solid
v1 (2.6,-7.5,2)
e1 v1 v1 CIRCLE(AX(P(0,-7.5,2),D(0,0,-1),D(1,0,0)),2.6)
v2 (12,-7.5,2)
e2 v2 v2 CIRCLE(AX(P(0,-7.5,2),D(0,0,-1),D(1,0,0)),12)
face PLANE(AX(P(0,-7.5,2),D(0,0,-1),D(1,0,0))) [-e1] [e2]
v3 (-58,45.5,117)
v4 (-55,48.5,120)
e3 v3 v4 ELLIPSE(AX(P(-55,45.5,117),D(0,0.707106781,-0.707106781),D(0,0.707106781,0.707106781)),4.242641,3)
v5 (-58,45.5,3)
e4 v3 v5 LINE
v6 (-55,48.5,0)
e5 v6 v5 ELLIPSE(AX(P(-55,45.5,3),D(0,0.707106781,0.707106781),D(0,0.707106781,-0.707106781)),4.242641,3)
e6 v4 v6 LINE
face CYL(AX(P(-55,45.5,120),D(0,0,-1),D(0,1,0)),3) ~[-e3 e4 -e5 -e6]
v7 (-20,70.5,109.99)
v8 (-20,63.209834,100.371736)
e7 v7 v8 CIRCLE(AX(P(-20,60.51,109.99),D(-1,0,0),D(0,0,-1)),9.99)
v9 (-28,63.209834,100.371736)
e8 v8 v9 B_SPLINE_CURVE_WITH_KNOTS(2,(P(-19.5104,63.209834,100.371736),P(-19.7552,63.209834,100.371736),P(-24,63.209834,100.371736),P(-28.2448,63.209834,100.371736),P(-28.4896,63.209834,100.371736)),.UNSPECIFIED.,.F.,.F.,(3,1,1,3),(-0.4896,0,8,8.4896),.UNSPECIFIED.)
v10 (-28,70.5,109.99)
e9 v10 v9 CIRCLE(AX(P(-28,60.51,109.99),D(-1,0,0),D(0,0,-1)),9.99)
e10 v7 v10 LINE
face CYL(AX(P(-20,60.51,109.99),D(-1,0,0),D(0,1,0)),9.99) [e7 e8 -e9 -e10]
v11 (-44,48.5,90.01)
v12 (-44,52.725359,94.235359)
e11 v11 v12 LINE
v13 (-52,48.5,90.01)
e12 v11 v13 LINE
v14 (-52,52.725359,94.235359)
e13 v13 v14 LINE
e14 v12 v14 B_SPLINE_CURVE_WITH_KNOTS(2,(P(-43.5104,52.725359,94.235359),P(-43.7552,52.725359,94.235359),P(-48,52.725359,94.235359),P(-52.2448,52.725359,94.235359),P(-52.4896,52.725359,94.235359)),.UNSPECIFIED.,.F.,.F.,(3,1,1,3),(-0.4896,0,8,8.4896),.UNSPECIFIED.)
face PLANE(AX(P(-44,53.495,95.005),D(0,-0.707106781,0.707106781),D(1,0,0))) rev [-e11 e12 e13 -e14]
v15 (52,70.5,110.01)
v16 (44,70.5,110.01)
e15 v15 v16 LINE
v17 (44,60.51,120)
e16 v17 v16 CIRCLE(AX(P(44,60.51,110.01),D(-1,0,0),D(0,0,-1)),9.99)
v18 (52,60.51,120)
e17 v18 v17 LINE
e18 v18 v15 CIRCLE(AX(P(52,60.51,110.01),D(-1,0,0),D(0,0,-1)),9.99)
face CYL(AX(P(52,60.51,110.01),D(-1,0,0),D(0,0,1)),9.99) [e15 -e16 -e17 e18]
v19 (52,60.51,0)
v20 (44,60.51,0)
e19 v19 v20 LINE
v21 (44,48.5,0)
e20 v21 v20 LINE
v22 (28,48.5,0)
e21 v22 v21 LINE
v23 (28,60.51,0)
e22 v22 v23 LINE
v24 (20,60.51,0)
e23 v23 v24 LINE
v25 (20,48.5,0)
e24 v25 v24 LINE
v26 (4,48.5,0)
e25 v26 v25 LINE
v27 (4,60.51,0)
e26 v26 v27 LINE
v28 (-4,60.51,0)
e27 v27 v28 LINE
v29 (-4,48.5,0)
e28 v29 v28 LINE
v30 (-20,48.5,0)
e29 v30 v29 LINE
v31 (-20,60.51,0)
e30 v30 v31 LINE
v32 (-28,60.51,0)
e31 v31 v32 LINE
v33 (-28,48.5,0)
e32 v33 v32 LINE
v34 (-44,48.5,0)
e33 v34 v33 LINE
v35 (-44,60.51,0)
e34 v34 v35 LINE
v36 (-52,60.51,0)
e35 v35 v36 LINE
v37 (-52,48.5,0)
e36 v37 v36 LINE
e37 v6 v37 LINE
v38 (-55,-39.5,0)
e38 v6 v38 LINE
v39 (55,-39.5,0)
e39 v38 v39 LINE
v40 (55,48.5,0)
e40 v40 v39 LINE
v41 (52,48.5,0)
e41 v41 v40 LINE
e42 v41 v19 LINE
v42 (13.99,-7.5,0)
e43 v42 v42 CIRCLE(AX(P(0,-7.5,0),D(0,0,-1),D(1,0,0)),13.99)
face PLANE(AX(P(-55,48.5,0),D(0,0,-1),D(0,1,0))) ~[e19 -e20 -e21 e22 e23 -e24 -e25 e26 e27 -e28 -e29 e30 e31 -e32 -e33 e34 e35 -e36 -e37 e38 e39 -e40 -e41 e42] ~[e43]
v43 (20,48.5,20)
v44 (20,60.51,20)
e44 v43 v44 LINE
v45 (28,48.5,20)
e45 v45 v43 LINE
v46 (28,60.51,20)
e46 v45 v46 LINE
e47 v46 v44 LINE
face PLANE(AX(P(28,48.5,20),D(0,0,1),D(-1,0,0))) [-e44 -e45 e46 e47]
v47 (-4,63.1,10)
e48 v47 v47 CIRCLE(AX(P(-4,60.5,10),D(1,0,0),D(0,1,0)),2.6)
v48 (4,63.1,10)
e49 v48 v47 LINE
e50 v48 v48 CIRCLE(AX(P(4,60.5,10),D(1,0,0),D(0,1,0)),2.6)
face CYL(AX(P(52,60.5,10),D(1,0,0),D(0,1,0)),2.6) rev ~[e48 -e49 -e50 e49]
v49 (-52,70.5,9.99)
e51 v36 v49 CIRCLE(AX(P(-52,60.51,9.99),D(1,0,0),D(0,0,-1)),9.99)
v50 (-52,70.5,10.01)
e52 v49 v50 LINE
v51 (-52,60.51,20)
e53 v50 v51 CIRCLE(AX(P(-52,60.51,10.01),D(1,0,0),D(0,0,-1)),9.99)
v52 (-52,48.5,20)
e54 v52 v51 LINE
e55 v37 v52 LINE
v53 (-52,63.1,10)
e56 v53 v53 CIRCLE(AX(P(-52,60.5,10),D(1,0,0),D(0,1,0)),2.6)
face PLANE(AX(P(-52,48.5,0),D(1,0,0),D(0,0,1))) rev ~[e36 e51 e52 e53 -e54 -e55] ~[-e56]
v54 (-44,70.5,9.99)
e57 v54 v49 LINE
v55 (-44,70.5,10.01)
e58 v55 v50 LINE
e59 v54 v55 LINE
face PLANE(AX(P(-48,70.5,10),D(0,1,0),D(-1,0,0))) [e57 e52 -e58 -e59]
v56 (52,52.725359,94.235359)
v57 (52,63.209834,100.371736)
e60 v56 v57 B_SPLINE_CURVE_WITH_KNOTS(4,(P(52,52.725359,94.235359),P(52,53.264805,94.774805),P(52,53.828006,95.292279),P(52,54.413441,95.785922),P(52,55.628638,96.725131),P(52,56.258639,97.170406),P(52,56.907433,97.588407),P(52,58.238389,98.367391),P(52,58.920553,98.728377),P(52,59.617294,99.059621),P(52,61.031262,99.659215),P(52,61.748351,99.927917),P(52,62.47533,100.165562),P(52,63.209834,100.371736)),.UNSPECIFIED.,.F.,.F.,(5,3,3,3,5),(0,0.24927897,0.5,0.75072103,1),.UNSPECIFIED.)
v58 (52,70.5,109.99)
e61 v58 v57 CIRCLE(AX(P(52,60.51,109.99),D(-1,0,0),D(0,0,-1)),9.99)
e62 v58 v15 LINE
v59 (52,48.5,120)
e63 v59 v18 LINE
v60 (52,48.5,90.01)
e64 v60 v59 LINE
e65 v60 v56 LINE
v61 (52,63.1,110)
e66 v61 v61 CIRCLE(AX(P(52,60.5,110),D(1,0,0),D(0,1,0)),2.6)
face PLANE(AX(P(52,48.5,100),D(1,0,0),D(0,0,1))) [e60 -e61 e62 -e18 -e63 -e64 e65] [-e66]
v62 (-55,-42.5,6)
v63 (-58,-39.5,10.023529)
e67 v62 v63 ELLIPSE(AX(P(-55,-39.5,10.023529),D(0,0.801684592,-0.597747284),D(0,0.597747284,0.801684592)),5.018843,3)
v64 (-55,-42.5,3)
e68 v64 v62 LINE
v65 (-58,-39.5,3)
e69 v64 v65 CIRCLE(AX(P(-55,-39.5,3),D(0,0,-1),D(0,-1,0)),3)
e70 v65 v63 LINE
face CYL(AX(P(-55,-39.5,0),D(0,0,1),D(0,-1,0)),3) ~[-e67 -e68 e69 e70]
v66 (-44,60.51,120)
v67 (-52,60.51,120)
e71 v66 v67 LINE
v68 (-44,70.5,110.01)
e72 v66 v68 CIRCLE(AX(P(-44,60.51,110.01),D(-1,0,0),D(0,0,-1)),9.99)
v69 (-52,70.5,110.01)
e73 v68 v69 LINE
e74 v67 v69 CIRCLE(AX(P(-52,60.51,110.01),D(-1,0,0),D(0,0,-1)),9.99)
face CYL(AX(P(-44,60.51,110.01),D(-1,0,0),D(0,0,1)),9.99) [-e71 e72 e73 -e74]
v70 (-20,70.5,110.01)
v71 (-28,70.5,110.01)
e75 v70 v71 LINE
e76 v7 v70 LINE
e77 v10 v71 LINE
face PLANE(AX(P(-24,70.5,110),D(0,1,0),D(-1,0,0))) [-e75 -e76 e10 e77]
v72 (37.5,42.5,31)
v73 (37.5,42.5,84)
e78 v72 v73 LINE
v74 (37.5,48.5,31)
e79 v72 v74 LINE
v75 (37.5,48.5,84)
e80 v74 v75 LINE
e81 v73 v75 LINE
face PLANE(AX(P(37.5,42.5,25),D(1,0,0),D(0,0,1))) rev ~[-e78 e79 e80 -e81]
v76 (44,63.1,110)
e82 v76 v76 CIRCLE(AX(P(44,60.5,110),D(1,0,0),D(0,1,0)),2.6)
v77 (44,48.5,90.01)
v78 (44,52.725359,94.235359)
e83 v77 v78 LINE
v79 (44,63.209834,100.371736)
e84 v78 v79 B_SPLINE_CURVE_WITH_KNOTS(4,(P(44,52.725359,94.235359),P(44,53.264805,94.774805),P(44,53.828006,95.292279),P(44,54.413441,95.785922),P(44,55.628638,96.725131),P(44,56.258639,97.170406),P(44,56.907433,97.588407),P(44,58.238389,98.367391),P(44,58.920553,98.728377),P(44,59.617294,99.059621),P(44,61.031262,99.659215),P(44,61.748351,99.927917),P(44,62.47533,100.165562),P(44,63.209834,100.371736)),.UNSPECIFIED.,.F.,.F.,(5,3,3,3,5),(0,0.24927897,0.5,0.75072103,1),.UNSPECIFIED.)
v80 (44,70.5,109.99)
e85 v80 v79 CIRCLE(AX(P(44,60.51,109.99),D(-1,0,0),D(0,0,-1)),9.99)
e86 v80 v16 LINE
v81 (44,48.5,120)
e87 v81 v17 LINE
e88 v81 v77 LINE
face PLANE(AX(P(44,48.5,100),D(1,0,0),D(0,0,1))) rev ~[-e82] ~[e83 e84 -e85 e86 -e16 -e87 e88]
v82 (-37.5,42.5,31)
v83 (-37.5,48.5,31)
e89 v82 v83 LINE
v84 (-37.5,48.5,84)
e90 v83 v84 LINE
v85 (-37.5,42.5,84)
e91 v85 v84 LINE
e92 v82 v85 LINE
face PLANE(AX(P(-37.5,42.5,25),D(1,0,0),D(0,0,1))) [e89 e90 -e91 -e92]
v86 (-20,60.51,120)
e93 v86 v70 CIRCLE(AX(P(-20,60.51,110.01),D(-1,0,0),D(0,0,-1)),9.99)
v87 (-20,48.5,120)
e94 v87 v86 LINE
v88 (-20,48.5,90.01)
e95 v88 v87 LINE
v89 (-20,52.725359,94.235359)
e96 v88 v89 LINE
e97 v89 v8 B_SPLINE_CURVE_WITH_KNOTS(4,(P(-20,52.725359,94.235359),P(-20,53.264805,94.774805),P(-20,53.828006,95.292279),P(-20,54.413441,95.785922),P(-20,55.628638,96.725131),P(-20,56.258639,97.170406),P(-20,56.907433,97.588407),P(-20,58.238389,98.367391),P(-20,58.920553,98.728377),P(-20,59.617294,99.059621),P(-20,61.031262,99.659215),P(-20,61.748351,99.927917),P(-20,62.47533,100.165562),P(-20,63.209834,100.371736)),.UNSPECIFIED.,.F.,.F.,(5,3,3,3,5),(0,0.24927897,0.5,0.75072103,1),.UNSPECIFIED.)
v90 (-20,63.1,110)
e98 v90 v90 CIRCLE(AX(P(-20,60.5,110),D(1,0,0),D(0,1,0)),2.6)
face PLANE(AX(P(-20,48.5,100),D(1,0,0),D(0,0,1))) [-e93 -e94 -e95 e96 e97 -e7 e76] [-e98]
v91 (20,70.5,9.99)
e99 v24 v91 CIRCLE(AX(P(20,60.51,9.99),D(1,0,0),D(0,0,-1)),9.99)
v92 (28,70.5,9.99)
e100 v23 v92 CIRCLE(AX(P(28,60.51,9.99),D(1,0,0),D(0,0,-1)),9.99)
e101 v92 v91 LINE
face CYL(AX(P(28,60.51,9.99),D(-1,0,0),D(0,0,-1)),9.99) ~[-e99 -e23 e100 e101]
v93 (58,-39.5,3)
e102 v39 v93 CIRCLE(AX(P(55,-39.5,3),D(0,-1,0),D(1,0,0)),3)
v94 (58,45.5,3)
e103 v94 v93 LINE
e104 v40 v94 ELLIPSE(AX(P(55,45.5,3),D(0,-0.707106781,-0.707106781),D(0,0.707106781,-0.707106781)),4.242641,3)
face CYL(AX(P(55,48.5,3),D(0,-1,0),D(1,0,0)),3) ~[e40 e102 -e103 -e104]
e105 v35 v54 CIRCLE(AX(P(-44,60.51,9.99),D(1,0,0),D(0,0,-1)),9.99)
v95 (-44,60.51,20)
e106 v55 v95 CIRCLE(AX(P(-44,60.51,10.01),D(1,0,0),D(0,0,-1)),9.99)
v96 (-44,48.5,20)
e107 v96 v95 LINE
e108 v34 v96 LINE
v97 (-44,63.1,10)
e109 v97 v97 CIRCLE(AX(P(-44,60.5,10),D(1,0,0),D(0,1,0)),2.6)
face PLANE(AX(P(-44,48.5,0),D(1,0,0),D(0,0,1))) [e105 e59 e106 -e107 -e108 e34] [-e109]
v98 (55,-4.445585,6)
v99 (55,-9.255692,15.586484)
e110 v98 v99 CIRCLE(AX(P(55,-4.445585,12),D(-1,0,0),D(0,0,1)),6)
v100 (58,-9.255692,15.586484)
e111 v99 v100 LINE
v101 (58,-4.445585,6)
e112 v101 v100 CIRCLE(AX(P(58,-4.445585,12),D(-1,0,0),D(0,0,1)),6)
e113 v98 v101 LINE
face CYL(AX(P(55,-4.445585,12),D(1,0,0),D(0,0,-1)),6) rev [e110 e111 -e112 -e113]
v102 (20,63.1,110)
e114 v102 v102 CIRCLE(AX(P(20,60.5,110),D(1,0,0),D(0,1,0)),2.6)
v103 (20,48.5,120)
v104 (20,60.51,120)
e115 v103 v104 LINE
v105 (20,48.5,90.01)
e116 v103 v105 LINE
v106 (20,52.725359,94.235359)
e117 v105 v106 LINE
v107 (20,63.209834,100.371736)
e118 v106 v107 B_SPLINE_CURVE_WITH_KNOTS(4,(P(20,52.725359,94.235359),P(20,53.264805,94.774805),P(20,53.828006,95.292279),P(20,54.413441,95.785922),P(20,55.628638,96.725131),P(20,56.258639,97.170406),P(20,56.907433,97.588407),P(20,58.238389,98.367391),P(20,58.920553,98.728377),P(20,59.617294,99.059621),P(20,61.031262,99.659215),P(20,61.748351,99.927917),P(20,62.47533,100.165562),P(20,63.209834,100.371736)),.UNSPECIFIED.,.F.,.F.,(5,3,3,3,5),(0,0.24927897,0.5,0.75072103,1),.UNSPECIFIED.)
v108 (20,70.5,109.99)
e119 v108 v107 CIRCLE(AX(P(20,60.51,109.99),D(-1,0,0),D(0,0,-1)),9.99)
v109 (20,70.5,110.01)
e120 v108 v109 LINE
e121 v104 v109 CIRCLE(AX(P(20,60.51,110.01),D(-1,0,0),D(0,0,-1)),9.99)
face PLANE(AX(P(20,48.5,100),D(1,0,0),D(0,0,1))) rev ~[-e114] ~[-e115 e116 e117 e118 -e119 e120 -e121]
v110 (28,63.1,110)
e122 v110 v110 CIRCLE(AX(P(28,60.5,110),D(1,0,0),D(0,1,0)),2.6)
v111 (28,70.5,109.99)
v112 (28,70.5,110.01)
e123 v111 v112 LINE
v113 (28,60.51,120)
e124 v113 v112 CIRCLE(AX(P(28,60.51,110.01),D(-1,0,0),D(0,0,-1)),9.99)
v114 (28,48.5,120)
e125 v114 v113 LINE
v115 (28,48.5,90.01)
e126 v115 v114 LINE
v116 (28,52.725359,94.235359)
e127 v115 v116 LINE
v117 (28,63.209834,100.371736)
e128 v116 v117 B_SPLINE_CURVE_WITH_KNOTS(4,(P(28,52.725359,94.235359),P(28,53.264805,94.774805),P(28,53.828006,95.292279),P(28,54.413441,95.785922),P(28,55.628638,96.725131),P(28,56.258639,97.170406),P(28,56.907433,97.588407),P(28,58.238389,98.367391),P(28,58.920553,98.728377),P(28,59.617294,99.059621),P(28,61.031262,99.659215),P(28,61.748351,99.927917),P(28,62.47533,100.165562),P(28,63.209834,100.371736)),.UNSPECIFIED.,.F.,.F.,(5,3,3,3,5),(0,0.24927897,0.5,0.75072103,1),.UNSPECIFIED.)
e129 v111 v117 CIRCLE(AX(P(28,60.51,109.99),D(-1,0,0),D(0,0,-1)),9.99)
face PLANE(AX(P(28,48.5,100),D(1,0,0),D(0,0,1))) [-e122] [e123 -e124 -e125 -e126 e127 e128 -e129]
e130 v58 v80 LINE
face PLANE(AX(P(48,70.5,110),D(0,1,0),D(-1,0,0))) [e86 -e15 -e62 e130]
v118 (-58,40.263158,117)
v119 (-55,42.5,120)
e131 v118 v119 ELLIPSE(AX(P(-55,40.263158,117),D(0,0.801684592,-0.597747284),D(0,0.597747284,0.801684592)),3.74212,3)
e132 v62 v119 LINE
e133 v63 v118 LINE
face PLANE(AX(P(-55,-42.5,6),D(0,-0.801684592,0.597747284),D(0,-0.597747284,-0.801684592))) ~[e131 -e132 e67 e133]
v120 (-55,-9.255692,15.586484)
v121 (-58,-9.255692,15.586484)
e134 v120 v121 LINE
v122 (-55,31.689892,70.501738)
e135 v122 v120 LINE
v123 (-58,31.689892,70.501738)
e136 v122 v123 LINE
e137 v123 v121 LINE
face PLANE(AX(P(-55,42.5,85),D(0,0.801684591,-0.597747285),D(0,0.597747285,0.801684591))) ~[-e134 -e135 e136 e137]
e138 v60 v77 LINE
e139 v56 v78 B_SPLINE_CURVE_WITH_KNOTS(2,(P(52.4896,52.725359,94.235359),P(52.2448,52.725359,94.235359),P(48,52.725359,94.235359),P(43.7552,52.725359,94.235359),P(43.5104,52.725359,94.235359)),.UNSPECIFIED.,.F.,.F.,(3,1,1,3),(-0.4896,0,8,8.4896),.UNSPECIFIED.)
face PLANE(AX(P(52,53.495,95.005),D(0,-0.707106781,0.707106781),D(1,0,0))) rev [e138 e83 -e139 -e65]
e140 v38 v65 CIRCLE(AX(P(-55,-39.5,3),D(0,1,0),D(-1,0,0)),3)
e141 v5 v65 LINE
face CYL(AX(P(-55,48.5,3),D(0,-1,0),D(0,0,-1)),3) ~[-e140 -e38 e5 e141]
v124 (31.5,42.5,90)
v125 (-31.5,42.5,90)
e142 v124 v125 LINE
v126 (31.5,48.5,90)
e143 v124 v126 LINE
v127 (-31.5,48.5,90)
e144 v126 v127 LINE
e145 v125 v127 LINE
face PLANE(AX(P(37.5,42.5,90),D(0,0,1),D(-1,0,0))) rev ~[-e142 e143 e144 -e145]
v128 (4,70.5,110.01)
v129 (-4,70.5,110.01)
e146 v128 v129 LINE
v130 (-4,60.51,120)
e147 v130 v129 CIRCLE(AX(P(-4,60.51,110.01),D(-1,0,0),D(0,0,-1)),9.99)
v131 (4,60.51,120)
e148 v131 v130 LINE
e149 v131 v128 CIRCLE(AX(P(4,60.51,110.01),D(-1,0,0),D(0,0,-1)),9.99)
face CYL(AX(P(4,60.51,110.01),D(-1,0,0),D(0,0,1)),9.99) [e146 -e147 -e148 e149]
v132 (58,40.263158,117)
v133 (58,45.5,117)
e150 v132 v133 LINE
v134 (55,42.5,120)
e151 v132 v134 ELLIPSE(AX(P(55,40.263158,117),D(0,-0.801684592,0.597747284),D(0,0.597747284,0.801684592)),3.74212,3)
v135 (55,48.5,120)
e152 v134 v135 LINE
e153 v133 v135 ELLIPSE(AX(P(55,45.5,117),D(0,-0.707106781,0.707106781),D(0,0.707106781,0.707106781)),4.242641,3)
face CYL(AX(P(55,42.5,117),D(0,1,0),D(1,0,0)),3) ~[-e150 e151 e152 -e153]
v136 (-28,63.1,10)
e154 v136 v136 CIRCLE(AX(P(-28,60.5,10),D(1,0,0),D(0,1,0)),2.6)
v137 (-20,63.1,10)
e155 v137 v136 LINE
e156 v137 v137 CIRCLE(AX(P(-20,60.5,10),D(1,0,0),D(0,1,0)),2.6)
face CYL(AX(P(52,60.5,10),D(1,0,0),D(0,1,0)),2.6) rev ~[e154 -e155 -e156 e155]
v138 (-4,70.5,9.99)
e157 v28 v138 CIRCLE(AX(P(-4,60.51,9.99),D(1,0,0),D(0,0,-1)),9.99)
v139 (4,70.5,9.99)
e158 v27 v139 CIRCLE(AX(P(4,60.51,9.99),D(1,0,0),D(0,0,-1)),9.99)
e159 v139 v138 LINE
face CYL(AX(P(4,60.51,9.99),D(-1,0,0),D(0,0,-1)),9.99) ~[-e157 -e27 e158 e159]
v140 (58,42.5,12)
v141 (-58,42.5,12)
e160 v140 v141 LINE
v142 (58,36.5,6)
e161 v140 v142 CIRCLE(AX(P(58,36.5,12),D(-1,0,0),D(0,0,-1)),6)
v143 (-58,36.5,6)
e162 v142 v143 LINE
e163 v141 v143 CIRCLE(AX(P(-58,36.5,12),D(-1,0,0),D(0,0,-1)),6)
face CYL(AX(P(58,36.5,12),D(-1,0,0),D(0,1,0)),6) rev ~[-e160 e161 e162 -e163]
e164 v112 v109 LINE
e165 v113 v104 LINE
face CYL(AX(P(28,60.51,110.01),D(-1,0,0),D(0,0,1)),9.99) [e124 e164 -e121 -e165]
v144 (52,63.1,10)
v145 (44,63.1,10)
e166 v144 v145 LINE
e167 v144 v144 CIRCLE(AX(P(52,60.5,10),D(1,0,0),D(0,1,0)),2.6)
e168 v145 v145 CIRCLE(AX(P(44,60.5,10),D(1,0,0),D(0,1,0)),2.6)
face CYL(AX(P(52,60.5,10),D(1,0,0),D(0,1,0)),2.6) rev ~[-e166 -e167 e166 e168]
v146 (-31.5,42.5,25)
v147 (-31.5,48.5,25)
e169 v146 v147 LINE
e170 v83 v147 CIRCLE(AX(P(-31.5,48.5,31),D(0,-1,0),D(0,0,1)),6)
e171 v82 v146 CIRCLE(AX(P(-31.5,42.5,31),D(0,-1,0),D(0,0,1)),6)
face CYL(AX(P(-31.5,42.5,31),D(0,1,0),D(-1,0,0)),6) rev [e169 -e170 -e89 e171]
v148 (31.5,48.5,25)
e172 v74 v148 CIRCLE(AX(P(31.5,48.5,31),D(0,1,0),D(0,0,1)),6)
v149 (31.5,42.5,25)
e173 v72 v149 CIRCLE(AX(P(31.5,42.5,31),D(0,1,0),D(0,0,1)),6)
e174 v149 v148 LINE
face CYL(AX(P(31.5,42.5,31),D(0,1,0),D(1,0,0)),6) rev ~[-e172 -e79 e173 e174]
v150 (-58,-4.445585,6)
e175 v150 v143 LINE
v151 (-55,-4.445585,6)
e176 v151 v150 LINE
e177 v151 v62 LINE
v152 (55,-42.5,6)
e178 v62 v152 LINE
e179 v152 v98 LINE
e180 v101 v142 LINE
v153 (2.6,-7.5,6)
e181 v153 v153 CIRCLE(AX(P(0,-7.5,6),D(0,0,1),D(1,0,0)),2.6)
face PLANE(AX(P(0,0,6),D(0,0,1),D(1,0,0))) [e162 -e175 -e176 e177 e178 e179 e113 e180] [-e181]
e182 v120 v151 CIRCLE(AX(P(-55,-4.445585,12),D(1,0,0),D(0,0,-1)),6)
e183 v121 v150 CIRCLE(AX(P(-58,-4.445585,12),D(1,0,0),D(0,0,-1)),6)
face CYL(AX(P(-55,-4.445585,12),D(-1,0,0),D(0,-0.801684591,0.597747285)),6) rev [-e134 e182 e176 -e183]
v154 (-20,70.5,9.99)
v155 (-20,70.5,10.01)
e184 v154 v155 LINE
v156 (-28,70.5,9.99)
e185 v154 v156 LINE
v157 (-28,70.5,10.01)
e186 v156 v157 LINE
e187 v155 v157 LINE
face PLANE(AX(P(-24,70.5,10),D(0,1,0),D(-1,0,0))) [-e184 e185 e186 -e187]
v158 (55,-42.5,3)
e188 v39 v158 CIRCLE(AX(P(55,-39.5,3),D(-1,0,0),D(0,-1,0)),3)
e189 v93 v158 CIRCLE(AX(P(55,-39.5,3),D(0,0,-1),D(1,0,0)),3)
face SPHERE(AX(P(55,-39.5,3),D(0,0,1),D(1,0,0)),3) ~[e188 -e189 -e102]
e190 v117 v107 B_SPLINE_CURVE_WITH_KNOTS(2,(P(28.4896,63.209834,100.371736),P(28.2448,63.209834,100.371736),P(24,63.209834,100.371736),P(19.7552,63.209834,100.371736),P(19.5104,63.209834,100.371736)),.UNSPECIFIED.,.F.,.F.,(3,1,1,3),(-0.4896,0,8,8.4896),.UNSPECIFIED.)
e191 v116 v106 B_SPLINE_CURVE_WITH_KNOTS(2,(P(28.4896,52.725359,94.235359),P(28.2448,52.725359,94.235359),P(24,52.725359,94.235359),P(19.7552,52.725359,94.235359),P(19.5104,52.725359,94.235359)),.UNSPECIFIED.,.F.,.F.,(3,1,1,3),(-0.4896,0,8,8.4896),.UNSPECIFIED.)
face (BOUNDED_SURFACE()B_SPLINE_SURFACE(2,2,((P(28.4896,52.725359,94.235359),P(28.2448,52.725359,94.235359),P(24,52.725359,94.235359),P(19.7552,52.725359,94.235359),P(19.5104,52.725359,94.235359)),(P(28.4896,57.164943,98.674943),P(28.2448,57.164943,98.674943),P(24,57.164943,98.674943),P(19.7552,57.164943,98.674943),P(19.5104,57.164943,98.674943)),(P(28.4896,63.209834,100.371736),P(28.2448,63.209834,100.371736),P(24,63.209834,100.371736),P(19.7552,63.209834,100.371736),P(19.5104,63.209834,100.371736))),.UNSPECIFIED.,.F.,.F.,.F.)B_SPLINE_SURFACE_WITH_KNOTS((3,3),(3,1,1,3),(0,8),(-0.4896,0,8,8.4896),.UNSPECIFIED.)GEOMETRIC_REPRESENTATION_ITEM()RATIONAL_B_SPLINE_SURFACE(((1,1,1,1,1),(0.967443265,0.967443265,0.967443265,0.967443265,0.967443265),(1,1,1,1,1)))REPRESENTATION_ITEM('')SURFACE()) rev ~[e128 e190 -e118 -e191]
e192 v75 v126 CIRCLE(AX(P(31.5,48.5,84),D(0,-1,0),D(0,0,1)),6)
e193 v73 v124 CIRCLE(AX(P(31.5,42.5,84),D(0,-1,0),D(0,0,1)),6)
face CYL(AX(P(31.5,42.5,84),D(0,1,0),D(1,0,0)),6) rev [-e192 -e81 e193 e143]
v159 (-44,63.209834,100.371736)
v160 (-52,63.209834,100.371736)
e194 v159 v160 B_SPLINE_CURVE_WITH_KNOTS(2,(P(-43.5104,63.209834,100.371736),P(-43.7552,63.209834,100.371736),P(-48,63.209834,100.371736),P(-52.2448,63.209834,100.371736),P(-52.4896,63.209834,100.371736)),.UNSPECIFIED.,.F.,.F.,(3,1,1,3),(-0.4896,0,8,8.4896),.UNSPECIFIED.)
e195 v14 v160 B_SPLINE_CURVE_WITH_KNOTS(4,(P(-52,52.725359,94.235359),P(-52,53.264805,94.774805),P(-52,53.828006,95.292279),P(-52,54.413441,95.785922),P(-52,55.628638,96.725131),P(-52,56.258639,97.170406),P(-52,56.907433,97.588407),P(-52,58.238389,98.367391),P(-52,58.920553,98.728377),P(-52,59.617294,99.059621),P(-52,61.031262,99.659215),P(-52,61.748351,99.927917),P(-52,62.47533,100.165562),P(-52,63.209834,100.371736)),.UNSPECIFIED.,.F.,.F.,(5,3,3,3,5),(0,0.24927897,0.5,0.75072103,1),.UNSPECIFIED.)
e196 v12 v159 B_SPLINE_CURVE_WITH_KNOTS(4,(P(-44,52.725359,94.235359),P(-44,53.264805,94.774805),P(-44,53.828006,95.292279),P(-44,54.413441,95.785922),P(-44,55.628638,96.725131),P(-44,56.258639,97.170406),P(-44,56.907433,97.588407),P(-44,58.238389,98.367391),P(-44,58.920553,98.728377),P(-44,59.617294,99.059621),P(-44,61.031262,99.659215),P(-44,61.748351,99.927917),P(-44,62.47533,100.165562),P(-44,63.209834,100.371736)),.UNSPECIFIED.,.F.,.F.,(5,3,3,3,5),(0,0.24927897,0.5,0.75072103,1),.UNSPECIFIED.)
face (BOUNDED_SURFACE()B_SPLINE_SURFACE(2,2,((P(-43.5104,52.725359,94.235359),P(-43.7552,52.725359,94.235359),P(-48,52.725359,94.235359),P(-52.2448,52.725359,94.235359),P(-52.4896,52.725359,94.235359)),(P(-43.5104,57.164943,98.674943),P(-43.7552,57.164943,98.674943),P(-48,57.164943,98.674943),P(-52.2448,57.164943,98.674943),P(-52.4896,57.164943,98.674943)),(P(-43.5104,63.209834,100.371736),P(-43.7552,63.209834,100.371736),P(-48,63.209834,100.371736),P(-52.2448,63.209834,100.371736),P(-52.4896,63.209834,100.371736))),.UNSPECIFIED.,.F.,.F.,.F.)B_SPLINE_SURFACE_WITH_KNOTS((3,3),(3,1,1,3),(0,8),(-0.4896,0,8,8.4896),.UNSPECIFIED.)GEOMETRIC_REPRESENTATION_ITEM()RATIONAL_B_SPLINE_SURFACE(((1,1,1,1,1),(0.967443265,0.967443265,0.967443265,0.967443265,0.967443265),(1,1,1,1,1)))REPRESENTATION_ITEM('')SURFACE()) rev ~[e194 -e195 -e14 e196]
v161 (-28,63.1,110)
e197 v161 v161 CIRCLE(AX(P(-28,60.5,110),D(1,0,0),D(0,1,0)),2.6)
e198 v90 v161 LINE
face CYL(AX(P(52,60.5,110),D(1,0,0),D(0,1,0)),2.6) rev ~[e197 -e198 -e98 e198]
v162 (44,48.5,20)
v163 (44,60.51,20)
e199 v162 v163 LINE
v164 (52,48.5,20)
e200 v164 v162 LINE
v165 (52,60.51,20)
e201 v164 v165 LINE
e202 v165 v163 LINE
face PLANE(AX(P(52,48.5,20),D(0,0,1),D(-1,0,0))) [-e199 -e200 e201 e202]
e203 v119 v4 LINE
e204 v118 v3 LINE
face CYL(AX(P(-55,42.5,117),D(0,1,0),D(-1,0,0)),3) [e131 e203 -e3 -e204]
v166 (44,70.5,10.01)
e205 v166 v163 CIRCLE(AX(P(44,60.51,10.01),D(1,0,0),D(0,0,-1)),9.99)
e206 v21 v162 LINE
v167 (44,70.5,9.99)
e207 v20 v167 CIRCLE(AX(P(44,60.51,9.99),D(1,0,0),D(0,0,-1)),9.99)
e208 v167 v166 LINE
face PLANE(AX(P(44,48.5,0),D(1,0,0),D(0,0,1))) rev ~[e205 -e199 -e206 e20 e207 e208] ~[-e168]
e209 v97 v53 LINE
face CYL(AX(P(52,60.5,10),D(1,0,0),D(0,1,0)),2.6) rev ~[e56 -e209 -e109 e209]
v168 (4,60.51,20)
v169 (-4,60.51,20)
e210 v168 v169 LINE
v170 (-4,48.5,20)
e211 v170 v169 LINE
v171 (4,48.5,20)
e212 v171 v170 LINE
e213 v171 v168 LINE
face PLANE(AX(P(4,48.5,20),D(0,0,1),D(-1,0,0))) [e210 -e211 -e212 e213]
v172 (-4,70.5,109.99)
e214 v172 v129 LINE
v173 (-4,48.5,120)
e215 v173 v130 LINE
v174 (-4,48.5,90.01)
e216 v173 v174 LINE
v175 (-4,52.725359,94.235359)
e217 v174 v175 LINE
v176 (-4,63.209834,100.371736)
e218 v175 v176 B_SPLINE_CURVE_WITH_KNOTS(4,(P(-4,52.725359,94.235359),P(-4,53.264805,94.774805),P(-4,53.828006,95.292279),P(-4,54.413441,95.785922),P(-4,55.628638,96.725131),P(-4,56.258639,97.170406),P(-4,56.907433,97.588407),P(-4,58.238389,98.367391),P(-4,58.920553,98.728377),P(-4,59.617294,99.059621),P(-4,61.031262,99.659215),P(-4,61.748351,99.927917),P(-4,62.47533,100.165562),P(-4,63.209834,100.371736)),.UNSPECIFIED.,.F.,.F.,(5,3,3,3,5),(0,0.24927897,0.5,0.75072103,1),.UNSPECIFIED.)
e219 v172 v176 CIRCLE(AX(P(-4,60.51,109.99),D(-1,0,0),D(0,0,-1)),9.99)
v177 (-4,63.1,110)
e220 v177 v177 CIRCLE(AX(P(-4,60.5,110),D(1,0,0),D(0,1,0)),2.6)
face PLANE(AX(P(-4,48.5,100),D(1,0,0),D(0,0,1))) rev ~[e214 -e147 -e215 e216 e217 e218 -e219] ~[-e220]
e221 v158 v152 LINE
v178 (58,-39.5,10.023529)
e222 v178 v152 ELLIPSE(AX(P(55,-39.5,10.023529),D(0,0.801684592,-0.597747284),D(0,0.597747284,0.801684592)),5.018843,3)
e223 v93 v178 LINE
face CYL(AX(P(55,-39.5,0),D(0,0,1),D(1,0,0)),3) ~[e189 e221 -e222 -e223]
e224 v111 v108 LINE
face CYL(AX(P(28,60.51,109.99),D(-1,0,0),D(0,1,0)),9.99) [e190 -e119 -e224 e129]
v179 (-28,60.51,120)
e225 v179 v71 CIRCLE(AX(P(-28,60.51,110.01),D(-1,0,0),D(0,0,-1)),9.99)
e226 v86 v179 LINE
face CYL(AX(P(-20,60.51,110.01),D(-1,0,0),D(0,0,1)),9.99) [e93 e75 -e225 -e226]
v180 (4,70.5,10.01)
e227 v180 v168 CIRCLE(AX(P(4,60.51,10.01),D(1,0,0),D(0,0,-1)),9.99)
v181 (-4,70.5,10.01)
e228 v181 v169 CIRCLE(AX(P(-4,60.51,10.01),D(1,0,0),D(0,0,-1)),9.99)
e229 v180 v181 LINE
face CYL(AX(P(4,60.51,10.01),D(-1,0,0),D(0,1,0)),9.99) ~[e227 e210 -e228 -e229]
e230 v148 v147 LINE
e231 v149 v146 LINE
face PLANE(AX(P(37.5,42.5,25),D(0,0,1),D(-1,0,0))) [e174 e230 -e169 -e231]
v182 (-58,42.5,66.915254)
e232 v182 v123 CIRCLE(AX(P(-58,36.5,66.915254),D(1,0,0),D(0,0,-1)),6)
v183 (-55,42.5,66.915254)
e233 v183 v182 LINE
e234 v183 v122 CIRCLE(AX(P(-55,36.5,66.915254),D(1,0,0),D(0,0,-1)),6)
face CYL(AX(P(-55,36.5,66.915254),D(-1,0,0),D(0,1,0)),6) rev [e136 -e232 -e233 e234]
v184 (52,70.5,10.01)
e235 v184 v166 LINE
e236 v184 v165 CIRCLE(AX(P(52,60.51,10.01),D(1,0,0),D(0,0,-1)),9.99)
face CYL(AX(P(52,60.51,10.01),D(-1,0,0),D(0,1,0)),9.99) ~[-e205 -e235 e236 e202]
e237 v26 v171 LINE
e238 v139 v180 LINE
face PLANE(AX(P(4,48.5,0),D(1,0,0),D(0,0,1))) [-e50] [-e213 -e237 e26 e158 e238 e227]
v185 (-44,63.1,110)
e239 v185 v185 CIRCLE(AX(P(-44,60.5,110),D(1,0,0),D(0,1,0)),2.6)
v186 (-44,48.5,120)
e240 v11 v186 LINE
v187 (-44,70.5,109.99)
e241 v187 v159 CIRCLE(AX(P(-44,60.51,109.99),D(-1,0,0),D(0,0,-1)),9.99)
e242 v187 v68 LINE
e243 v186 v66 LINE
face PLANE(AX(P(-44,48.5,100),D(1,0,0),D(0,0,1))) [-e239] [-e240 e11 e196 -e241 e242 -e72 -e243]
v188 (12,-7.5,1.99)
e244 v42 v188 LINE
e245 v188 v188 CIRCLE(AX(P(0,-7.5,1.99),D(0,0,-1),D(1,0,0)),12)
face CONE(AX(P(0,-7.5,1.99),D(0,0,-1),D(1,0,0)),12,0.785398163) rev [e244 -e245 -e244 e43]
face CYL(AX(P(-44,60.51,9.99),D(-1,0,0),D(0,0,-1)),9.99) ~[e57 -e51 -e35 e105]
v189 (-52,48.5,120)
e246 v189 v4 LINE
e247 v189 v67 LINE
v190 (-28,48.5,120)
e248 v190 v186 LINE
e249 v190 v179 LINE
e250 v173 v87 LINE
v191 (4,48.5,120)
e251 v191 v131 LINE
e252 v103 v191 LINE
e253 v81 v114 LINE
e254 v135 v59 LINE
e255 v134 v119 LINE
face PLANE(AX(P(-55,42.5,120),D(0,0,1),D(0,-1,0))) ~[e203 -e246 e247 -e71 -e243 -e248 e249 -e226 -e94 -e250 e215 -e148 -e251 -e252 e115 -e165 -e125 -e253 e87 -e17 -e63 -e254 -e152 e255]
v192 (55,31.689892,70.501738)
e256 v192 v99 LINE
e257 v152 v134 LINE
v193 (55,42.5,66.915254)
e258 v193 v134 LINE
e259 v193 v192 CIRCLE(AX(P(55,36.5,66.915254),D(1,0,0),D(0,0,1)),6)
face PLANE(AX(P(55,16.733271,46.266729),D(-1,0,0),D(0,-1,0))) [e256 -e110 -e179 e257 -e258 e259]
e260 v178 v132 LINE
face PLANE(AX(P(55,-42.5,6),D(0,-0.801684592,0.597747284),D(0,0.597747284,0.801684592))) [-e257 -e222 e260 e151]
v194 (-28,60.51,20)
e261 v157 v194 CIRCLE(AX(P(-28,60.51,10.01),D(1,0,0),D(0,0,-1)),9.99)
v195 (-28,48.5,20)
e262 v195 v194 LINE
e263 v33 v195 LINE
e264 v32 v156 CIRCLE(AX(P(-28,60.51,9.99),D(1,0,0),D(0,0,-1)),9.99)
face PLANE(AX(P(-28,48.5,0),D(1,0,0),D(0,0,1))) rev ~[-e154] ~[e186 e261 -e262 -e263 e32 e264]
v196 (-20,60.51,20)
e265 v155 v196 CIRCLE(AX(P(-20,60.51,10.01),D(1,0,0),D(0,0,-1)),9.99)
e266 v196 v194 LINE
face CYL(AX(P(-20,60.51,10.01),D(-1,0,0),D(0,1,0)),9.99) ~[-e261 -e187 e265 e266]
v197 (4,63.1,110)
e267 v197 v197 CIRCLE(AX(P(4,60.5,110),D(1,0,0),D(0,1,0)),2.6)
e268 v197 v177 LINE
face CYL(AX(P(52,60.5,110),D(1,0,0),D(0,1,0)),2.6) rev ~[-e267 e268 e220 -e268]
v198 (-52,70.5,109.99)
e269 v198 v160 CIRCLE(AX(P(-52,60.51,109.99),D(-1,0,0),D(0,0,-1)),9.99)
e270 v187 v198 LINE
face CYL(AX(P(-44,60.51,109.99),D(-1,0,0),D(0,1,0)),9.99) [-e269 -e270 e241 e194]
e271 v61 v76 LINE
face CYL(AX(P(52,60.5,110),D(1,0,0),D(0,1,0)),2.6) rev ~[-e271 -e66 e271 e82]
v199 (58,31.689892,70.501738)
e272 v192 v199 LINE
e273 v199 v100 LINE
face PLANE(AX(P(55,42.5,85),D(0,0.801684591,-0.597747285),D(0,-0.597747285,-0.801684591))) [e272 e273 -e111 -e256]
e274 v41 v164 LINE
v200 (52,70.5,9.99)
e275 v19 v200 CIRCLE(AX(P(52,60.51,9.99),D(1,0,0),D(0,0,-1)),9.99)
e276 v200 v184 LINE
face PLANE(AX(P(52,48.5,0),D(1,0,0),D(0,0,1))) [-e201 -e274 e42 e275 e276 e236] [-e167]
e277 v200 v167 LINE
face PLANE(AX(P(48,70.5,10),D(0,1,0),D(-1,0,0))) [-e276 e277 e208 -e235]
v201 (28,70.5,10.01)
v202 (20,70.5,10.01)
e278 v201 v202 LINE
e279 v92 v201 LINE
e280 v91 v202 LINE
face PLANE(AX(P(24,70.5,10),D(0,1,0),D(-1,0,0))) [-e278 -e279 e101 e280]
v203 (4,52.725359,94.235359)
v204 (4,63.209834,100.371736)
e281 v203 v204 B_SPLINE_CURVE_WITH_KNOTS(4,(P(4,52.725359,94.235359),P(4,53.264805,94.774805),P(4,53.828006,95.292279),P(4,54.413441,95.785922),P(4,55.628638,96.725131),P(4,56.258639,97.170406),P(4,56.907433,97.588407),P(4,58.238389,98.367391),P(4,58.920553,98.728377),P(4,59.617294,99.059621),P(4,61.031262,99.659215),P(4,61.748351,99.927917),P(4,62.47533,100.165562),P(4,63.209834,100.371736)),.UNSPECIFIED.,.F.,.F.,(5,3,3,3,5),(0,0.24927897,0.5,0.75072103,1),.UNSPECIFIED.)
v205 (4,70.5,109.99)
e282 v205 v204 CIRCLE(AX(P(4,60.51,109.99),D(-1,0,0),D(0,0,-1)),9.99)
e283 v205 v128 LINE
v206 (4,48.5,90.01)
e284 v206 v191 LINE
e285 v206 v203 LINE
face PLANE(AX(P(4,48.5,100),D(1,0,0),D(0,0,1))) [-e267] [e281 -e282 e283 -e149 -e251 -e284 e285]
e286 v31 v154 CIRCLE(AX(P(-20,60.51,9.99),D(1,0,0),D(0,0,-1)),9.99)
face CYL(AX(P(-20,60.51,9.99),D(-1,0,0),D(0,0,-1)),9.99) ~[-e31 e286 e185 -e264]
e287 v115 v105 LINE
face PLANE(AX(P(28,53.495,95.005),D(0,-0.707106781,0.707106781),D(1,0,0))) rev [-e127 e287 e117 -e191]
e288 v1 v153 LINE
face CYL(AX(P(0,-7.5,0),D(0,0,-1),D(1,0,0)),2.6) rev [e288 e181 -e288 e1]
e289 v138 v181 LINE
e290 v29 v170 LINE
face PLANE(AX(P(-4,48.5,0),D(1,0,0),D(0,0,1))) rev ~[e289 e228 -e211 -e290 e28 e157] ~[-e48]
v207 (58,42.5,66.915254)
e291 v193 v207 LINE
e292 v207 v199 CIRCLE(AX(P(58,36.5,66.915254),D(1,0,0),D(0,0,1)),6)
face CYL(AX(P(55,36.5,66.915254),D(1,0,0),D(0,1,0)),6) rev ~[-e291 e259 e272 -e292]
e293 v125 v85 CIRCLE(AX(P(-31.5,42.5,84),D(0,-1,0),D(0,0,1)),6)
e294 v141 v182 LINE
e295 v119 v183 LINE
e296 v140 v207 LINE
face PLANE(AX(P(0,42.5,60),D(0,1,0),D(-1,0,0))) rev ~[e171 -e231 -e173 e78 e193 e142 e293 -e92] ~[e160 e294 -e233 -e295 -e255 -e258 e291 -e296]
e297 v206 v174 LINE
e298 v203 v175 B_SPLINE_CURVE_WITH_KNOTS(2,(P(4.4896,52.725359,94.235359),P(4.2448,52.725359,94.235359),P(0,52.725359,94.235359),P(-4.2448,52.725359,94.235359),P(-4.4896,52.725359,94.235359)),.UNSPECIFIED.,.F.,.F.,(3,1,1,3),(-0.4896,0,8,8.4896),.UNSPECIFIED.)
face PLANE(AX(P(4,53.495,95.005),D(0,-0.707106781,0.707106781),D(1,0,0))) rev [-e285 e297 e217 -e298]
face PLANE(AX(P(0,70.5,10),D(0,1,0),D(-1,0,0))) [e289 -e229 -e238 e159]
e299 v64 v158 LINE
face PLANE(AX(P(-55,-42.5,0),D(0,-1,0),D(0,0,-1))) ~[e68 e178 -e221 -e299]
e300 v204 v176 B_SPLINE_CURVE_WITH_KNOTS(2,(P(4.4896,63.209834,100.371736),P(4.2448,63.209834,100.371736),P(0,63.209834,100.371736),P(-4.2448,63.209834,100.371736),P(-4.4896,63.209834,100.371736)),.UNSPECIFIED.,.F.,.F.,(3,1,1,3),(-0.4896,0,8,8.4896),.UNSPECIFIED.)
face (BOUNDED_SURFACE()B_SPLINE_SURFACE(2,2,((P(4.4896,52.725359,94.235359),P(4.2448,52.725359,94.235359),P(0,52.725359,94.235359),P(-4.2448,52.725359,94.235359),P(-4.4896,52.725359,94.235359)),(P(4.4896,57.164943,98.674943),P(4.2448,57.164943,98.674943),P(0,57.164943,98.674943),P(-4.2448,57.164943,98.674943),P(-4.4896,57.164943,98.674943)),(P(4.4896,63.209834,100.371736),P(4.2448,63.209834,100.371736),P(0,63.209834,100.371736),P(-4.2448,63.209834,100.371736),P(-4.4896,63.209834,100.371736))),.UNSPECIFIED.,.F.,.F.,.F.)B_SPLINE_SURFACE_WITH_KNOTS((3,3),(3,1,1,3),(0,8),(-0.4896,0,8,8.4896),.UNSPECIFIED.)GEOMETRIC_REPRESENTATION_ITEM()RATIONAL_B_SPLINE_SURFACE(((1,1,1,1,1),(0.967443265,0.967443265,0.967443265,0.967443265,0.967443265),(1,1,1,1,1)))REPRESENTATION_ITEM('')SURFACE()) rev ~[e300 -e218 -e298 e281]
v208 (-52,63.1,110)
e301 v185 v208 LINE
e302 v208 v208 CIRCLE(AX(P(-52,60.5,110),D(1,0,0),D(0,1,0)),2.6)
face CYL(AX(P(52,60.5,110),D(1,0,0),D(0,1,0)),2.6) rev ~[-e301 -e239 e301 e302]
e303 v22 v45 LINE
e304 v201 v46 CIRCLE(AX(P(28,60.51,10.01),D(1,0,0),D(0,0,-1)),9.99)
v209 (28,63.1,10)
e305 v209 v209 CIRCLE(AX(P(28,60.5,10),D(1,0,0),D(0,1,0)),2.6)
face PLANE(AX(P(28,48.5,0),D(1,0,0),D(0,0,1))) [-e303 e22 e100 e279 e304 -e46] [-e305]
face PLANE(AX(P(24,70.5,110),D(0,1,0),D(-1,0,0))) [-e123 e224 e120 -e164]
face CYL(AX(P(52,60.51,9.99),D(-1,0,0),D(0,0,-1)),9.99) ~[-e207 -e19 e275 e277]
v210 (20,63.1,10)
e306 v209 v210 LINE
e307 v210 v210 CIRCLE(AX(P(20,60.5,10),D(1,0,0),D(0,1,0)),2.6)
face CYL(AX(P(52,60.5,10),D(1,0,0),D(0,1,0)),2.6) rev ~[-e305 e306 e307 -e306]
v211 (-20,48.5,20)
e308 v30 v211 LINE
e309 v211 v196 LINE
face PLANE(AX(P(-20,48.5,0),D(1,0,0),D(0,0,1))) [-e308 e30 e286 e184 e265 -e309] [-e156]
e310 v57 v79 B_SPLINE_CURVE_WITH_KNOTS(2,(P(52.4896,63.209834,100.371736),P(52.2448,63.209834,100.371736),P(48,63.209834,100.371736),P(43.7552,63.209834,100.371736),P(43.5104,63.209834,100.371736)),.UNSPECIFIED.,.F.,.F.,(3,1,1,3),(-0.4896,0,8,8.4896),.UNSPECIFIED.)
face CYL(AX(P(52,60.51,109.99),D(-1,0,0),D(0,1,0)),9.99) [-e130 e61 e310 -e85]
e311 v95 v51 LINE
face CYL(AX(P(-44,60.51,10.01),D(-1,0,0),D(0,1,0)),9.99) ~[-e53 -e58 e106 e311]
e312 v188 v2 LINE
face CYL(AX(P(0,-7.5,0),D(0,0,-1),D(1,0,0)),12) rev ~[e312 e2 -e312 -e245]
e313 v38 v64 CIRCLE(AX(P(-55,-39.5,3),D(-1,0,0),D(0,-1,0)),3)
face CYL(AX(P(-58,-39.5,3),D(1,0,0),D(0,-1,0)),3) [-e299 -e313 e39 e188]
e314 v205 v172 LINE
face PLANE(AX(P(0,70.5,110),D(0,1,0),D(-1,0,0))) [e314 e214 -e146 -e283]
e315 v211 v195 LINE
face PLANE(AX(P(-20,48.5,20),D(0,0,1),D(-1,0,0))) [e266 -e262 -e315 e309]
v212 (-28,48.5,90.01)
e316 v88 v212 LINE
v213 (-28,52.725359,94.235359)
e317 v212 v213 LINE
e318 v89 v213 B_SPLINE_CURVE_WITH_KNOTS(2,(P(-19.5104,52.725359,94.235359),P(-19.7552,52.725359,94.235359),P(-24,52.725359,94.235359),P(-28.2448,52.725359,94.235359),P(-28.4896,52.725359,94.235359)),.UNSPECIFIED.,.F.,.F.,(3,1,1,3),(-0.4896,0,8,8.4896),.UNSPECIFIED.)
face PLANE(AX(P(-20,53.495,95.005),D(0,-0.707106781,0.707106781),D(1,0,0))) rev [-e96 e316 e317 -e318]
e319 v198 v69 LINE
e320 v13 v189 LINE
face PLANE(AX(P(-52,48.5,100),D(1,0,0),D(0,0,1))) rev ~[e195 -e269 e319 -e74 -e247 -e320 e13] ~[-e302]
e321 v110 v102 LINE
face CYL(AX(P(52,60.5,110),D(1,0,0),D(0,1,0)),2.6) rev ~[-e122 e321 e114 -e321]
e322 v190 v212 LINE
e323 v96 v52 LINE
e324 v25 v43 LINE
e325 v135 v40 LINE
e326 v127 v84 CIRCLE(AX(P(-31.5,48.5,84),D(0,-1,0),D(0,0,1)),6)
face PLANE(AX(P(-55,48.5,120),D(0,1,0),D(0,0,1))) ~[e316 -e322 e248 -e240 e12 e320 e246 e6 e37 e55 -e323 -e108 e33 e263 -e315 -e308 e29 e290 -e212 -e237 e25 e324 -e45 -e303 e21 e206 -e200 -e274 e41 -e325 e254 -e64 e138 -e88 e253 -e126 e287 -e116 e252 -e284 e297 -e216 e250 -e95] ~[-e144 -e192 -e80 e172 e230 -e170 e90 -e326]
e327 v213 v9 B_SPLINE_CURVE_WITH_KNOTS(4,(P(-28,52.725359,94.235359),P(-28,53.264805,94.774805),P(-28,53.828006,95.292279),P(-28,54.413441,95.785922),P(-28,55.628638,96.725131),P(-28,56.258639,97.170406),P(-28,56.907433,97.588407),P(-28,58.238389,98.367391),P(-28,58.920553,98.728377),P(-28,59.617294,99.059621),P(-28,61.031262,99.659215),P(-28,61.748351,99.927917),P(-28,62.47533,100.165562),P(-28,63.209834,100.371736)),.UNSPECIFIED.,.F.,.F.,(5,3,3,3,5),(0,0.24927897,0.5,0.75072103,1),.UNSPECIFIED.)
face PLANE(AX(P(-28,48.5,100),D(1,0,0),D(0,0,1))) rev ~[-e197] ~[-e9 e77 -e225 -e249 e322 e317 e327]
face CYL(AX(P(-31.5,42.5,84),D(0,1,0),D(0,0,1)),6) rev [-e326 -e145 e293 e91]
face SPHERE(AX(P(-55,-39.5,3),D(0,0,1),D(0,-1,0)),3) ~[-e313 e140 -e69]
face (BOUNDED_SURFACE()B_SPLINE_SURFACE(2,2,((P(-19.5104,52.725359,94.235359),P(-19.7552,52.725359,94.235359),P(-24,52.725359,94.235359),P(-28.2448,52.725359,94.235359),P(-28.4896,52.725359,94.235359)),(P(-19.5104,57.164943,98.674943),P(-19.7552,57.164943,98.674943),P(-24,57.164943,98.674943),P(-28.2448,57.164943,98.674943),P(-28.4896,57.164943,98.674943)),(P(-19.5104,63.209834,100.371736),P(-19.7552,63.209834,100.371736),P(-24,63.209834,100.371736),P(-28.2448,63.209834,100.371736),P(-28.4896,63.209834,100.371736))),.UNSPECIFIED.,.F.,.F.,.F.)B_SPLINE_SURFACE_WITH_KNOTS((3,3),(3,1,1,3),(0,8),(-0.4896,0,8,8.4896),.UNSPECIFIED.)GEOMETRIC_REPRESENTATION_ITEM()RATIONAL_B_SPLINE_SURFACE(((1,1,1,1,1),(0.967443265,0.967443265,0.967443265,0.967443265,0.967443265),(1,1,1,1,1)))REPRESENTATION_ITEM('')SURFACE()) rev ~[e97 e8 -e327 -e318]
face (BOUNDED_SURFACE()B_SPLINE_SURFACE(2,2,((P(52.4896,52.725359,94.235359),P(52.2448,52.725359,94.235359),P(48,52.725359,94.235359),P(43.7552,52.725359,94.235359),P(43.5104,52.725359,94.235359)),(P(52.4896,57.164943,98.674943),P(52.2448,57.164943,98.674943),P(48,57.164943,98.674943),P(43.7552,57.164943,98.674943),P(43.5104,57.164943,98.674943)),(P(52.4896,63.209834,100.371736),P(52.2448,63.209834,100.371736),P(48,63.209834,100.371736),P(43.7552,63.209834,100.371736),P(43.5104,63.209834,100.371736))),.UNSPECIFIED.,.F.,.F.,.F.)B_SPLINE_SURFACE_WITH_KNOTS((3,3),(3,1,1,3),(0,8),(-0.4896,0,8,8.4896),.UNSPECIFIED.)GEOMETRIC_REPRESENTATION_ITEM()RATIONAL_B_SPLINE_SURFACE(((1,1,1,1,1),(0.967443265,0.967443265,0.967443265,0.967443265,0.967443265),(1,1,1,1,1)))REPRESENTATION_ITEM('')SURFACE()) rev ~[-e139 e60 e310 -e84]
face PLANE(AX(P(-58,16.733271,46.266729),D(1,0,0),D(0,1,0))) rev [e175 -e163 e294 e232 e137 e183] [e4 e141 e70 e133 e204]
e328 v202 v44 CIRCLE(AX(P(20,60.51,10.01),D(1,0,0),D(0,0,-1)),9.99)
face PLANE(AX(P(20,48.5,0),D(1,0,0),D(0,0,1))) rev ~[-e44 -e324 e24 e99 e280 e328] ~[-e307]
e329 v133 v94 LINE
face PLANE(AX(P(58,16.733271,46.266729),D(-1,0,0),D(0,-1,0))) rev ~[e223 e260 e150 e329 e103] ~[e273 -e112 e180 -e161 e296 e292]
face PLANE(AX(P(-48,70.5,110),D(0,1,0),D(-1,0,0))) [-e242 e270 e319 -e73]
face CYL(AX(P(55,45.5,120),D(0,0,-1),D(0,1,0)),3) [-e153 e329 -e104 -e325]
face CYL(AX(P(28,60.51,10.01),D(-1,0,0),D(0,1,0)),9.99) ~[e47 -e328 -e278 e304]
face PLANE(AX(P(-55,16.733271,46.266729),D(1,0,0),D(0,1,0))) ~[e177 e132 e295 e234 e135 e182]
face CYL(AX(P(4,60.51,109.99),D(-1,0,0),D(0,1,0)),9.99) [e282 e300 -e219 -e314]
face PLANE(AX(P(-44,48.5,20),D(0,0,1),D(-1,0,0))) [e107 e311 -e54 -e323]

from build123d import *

# Parameters (mm, degrees)
SKETCH_W        = 110
SKETCH_H        = 85
SKETCH_R        = 2.6
PAD_DEPTH       = 6
SKETCH001_R     = 12
POCKET_DEPTH    = 2
SKETCH002_W     = 110
SKETCH002_H     = 120
SKETCH002_W_2   = 75
SKETCH002_H_2   = 65
PAD001_DEPTH    = 6
PAD002_DEPTH    = 3
SKETCH004_W     = 8
SKETCH004_H     = 20
PAD003_DEPTH    = 22
SKETCH005_R     = 2.6
POCKET001_DEPTH = 110.001
FILLET_R        = 9.99
CHAMFER_SIZE    = 9.99
FILLET001_R     = 6
FILLET002_R     = 3
CHAMFER001_SIZE = 1.99
FILLET003_R     = 24


with BuildPart() as part:
    # Sketch → Pad (new body)
    with BuildSketch(Plane.XY):
        Rectangle(SKETCH_W, SKETCH_H)
        with Locations((0, -7.5)):
            Circle(SKETCH_R, mode=Mode.SUBTRACT)
    extrude(amount=PAD_DEPTH)

    # Sketch001 (on Face6 of Pad) → Pocket (cut)
    with BuildSketch(Plane(origin=(0, 0, 0), x_dir=(1, 0, 0), z_dir=(0, 0, -1))):
        with Locations((0, 7.5)):
            Circle(SKETCH001_R)
    extrude(amount=-POCKET_DEPTH, mode=Mode.SUBTRACT)

    # Sketch002 (on Face1 of Pocket) → Pad001 (join)
    with BuildSketch(Plane(origin=(0, 42.5, 0), x_dir=(-1, 0, 0), z_dir=(0, 1, 0))):
        with Locations((0, 60)):
            Rectangle(SKETCH002_W, SKETCH002_H)
        with Locations((0, 57.5)):
            Rectangle(SKETCH002_W_2, SKETCH002_H_2, mode=Mode.SUBTRACT)
    extrude(amount=PAD001_DEPTH)

    # Sketch003 (on Face15 of Pad001) → Pad002 (join)
    with BuildSketch(Plane.YZ.offset(55)):
        Polygon((-42.5, 6), (42.5, 120), (48.5, 120), (48.5, 0), (-42.5, 0), align=None)
        Polygon((42.5, 85), (-16.403509, 6), (42.5, 6), align=None, mode=Mode.SUBTRACT)
    pad002 = extrude(amount=PAD002_DEPTH)

    # Mirrored: Pad002 across YZ
    add(pad002.mirror(Plane.YZ))

    # Sketch004 (on Face13 of Mirrored) → Pad003 (join)
    with BuildSketch(Plane(origin=(0, 48.5, 0), x_dir=(-1, 0, 0), z_dir=(0, 1, 0))):
        with Locations((-24, 110)):
            Rectangle(SKETCH004_W, SKETCH004_H)
        with Locations((24, 110)):
            Rectangle(SKETCH004_W, SKETCH004_H)
        with Locations((-24, 10)):
            Rectangle(SKETCH004_W, SKETCH004_H)
        with Locations((24, 10)):
            Rectangle(SKETCH004_W, SKETCH004_H)
        with Locations((0, 10)):
            Rectangle(SKETCH004_W, SKETCH004_H)
        with Locations((0, 110)):
            Rectangle(SKETCH004_W, SKETCH004_H)
        with Locations((-48, 110)):
            Rectangle(SKETCH004_W, SKETCH004_H)
        with Locations((48, 110)):
            Rectangle(SKETCH004_W, SKETCH004_H)
        with Locations((-48, 10)):
            Rectangle(SKETCH004_W, SKETCH004_H)
        with Locations((48, 10)):
            Rectangle(SKETCH004_W, SKETCH004_H)
    extrude(amount=PAD003_DEPTH)

    # Sketch005 (on Face13 of Pad003) → Pocket001 (cut, through all)
    with BuildSketch(Plane.YZ.offset(52)):
        with Locations((60.5, 110)):
            Circle(SKETCH005_R)
        with Locations((60.5, 10)):
            Circle(SKETCH005_R)
    extrude(amount=-POCKET001_DEPTH, mode=Mode.SUBTRACT)

    # Fillet
    fillet_edges = [part.edges().sort_by_distance(p)[0] for p in [
        (48, 70.5, 0),
        (24, 70.5, 0),
        (0, 70.5, 0),
        (-24, 70.5, 0),
        (-48, 70.5, 0),
        (-48, 70.5, 20),
        (-24, 70.5, 20),
        (0, 70.5, 20),
        (24, 70.5, 20),
        (48, 70.5, 20),
        (48, 70.5, 100),
        (24, 70.5, 100),
        (0, 70.5, 100),
        (-24, 70.5, 100),
        (-48, 70.5, 100),
        (-48, 70.5, 120),
        (-24, 70.5, 120),
        (0, 70.5, 120),
        (24, 70.5, 120),
        (48, 70.5, 120),
    ]]
    fillet(fillet_edges, radius=FILLET_R)

    # Chamfer
    chamfer_edges = [part.edges().sort_by_distance(p)[0] for p in [
        (0, 48.5, 100),
        (-24, 48.5, 100),
        (-48, 48.5, 100),
        (24, 48.5, 100),
        (48, 48.5, 100),
    ]]
    chamfer(chamfer_edges, length=CHAMFER_SIZE)

    # Fillet001
    fillet001_edges = [part.edges().sort_by_distance(p)[0] for p in [
        (56.5, 42.5, 85),
        (56.5, -16.403509, 6),
        (0, 42.5, 6),
        (37.5, 45.5, 25),
        (-37.5, 45.5, 25),
        (-37.5, 45.5, 90),
        (37.5, 45.5, 90),
        (-56.5, 42.5, 85),
        (-56.5, -16.403509, 6),
    ]]
    fillet(fillet001_edges, radius=FILLET001_R)

    # Fillet002
    fillet002_edges = [part.edges().sort_by_distance(p)[0] for p in [
        (-58, -42.5, 3),
        (58, -42.5, 3),
        (-58, 45.5, 120),
        (58, 45.5, 120),
        (58, 48.5, 60),
        (-58, 48.5, 60),
        (58, 3, 0),
        (0, -42.5, 0),
        (-58, 3, 0),
    ]]
    fillet(fillet002_edges, radius=FILLET002_R)

    # Chamfer001
    chamfer001_edges = [part.edges().sort_by_distance(p)[0] for p in [
        (-12, -7.5, 0),
    ]]
    chamfer(chamfer001_edges, length=CHAMFER001_SIZE)

    # Fillet003
    fillet003_edges = [part.edges().sort_by_distance(p)[0] for p in [
        (48, 58.49, 100),
        (48, 60.51, 100),
        (24, 58.49, 100),
        (24, 60.51, 100),
        (0, 58.49, 100),
        (0, 60.51, 100),
        (-24, 58.49, 100),
        (-24, 60.51, 100),
        (-48, 58.49, 100),
        (-48, 60.51, 100),
    ]]
    fillet(fillet003_edges, radius=FILLET003_R)


solid = part.part
